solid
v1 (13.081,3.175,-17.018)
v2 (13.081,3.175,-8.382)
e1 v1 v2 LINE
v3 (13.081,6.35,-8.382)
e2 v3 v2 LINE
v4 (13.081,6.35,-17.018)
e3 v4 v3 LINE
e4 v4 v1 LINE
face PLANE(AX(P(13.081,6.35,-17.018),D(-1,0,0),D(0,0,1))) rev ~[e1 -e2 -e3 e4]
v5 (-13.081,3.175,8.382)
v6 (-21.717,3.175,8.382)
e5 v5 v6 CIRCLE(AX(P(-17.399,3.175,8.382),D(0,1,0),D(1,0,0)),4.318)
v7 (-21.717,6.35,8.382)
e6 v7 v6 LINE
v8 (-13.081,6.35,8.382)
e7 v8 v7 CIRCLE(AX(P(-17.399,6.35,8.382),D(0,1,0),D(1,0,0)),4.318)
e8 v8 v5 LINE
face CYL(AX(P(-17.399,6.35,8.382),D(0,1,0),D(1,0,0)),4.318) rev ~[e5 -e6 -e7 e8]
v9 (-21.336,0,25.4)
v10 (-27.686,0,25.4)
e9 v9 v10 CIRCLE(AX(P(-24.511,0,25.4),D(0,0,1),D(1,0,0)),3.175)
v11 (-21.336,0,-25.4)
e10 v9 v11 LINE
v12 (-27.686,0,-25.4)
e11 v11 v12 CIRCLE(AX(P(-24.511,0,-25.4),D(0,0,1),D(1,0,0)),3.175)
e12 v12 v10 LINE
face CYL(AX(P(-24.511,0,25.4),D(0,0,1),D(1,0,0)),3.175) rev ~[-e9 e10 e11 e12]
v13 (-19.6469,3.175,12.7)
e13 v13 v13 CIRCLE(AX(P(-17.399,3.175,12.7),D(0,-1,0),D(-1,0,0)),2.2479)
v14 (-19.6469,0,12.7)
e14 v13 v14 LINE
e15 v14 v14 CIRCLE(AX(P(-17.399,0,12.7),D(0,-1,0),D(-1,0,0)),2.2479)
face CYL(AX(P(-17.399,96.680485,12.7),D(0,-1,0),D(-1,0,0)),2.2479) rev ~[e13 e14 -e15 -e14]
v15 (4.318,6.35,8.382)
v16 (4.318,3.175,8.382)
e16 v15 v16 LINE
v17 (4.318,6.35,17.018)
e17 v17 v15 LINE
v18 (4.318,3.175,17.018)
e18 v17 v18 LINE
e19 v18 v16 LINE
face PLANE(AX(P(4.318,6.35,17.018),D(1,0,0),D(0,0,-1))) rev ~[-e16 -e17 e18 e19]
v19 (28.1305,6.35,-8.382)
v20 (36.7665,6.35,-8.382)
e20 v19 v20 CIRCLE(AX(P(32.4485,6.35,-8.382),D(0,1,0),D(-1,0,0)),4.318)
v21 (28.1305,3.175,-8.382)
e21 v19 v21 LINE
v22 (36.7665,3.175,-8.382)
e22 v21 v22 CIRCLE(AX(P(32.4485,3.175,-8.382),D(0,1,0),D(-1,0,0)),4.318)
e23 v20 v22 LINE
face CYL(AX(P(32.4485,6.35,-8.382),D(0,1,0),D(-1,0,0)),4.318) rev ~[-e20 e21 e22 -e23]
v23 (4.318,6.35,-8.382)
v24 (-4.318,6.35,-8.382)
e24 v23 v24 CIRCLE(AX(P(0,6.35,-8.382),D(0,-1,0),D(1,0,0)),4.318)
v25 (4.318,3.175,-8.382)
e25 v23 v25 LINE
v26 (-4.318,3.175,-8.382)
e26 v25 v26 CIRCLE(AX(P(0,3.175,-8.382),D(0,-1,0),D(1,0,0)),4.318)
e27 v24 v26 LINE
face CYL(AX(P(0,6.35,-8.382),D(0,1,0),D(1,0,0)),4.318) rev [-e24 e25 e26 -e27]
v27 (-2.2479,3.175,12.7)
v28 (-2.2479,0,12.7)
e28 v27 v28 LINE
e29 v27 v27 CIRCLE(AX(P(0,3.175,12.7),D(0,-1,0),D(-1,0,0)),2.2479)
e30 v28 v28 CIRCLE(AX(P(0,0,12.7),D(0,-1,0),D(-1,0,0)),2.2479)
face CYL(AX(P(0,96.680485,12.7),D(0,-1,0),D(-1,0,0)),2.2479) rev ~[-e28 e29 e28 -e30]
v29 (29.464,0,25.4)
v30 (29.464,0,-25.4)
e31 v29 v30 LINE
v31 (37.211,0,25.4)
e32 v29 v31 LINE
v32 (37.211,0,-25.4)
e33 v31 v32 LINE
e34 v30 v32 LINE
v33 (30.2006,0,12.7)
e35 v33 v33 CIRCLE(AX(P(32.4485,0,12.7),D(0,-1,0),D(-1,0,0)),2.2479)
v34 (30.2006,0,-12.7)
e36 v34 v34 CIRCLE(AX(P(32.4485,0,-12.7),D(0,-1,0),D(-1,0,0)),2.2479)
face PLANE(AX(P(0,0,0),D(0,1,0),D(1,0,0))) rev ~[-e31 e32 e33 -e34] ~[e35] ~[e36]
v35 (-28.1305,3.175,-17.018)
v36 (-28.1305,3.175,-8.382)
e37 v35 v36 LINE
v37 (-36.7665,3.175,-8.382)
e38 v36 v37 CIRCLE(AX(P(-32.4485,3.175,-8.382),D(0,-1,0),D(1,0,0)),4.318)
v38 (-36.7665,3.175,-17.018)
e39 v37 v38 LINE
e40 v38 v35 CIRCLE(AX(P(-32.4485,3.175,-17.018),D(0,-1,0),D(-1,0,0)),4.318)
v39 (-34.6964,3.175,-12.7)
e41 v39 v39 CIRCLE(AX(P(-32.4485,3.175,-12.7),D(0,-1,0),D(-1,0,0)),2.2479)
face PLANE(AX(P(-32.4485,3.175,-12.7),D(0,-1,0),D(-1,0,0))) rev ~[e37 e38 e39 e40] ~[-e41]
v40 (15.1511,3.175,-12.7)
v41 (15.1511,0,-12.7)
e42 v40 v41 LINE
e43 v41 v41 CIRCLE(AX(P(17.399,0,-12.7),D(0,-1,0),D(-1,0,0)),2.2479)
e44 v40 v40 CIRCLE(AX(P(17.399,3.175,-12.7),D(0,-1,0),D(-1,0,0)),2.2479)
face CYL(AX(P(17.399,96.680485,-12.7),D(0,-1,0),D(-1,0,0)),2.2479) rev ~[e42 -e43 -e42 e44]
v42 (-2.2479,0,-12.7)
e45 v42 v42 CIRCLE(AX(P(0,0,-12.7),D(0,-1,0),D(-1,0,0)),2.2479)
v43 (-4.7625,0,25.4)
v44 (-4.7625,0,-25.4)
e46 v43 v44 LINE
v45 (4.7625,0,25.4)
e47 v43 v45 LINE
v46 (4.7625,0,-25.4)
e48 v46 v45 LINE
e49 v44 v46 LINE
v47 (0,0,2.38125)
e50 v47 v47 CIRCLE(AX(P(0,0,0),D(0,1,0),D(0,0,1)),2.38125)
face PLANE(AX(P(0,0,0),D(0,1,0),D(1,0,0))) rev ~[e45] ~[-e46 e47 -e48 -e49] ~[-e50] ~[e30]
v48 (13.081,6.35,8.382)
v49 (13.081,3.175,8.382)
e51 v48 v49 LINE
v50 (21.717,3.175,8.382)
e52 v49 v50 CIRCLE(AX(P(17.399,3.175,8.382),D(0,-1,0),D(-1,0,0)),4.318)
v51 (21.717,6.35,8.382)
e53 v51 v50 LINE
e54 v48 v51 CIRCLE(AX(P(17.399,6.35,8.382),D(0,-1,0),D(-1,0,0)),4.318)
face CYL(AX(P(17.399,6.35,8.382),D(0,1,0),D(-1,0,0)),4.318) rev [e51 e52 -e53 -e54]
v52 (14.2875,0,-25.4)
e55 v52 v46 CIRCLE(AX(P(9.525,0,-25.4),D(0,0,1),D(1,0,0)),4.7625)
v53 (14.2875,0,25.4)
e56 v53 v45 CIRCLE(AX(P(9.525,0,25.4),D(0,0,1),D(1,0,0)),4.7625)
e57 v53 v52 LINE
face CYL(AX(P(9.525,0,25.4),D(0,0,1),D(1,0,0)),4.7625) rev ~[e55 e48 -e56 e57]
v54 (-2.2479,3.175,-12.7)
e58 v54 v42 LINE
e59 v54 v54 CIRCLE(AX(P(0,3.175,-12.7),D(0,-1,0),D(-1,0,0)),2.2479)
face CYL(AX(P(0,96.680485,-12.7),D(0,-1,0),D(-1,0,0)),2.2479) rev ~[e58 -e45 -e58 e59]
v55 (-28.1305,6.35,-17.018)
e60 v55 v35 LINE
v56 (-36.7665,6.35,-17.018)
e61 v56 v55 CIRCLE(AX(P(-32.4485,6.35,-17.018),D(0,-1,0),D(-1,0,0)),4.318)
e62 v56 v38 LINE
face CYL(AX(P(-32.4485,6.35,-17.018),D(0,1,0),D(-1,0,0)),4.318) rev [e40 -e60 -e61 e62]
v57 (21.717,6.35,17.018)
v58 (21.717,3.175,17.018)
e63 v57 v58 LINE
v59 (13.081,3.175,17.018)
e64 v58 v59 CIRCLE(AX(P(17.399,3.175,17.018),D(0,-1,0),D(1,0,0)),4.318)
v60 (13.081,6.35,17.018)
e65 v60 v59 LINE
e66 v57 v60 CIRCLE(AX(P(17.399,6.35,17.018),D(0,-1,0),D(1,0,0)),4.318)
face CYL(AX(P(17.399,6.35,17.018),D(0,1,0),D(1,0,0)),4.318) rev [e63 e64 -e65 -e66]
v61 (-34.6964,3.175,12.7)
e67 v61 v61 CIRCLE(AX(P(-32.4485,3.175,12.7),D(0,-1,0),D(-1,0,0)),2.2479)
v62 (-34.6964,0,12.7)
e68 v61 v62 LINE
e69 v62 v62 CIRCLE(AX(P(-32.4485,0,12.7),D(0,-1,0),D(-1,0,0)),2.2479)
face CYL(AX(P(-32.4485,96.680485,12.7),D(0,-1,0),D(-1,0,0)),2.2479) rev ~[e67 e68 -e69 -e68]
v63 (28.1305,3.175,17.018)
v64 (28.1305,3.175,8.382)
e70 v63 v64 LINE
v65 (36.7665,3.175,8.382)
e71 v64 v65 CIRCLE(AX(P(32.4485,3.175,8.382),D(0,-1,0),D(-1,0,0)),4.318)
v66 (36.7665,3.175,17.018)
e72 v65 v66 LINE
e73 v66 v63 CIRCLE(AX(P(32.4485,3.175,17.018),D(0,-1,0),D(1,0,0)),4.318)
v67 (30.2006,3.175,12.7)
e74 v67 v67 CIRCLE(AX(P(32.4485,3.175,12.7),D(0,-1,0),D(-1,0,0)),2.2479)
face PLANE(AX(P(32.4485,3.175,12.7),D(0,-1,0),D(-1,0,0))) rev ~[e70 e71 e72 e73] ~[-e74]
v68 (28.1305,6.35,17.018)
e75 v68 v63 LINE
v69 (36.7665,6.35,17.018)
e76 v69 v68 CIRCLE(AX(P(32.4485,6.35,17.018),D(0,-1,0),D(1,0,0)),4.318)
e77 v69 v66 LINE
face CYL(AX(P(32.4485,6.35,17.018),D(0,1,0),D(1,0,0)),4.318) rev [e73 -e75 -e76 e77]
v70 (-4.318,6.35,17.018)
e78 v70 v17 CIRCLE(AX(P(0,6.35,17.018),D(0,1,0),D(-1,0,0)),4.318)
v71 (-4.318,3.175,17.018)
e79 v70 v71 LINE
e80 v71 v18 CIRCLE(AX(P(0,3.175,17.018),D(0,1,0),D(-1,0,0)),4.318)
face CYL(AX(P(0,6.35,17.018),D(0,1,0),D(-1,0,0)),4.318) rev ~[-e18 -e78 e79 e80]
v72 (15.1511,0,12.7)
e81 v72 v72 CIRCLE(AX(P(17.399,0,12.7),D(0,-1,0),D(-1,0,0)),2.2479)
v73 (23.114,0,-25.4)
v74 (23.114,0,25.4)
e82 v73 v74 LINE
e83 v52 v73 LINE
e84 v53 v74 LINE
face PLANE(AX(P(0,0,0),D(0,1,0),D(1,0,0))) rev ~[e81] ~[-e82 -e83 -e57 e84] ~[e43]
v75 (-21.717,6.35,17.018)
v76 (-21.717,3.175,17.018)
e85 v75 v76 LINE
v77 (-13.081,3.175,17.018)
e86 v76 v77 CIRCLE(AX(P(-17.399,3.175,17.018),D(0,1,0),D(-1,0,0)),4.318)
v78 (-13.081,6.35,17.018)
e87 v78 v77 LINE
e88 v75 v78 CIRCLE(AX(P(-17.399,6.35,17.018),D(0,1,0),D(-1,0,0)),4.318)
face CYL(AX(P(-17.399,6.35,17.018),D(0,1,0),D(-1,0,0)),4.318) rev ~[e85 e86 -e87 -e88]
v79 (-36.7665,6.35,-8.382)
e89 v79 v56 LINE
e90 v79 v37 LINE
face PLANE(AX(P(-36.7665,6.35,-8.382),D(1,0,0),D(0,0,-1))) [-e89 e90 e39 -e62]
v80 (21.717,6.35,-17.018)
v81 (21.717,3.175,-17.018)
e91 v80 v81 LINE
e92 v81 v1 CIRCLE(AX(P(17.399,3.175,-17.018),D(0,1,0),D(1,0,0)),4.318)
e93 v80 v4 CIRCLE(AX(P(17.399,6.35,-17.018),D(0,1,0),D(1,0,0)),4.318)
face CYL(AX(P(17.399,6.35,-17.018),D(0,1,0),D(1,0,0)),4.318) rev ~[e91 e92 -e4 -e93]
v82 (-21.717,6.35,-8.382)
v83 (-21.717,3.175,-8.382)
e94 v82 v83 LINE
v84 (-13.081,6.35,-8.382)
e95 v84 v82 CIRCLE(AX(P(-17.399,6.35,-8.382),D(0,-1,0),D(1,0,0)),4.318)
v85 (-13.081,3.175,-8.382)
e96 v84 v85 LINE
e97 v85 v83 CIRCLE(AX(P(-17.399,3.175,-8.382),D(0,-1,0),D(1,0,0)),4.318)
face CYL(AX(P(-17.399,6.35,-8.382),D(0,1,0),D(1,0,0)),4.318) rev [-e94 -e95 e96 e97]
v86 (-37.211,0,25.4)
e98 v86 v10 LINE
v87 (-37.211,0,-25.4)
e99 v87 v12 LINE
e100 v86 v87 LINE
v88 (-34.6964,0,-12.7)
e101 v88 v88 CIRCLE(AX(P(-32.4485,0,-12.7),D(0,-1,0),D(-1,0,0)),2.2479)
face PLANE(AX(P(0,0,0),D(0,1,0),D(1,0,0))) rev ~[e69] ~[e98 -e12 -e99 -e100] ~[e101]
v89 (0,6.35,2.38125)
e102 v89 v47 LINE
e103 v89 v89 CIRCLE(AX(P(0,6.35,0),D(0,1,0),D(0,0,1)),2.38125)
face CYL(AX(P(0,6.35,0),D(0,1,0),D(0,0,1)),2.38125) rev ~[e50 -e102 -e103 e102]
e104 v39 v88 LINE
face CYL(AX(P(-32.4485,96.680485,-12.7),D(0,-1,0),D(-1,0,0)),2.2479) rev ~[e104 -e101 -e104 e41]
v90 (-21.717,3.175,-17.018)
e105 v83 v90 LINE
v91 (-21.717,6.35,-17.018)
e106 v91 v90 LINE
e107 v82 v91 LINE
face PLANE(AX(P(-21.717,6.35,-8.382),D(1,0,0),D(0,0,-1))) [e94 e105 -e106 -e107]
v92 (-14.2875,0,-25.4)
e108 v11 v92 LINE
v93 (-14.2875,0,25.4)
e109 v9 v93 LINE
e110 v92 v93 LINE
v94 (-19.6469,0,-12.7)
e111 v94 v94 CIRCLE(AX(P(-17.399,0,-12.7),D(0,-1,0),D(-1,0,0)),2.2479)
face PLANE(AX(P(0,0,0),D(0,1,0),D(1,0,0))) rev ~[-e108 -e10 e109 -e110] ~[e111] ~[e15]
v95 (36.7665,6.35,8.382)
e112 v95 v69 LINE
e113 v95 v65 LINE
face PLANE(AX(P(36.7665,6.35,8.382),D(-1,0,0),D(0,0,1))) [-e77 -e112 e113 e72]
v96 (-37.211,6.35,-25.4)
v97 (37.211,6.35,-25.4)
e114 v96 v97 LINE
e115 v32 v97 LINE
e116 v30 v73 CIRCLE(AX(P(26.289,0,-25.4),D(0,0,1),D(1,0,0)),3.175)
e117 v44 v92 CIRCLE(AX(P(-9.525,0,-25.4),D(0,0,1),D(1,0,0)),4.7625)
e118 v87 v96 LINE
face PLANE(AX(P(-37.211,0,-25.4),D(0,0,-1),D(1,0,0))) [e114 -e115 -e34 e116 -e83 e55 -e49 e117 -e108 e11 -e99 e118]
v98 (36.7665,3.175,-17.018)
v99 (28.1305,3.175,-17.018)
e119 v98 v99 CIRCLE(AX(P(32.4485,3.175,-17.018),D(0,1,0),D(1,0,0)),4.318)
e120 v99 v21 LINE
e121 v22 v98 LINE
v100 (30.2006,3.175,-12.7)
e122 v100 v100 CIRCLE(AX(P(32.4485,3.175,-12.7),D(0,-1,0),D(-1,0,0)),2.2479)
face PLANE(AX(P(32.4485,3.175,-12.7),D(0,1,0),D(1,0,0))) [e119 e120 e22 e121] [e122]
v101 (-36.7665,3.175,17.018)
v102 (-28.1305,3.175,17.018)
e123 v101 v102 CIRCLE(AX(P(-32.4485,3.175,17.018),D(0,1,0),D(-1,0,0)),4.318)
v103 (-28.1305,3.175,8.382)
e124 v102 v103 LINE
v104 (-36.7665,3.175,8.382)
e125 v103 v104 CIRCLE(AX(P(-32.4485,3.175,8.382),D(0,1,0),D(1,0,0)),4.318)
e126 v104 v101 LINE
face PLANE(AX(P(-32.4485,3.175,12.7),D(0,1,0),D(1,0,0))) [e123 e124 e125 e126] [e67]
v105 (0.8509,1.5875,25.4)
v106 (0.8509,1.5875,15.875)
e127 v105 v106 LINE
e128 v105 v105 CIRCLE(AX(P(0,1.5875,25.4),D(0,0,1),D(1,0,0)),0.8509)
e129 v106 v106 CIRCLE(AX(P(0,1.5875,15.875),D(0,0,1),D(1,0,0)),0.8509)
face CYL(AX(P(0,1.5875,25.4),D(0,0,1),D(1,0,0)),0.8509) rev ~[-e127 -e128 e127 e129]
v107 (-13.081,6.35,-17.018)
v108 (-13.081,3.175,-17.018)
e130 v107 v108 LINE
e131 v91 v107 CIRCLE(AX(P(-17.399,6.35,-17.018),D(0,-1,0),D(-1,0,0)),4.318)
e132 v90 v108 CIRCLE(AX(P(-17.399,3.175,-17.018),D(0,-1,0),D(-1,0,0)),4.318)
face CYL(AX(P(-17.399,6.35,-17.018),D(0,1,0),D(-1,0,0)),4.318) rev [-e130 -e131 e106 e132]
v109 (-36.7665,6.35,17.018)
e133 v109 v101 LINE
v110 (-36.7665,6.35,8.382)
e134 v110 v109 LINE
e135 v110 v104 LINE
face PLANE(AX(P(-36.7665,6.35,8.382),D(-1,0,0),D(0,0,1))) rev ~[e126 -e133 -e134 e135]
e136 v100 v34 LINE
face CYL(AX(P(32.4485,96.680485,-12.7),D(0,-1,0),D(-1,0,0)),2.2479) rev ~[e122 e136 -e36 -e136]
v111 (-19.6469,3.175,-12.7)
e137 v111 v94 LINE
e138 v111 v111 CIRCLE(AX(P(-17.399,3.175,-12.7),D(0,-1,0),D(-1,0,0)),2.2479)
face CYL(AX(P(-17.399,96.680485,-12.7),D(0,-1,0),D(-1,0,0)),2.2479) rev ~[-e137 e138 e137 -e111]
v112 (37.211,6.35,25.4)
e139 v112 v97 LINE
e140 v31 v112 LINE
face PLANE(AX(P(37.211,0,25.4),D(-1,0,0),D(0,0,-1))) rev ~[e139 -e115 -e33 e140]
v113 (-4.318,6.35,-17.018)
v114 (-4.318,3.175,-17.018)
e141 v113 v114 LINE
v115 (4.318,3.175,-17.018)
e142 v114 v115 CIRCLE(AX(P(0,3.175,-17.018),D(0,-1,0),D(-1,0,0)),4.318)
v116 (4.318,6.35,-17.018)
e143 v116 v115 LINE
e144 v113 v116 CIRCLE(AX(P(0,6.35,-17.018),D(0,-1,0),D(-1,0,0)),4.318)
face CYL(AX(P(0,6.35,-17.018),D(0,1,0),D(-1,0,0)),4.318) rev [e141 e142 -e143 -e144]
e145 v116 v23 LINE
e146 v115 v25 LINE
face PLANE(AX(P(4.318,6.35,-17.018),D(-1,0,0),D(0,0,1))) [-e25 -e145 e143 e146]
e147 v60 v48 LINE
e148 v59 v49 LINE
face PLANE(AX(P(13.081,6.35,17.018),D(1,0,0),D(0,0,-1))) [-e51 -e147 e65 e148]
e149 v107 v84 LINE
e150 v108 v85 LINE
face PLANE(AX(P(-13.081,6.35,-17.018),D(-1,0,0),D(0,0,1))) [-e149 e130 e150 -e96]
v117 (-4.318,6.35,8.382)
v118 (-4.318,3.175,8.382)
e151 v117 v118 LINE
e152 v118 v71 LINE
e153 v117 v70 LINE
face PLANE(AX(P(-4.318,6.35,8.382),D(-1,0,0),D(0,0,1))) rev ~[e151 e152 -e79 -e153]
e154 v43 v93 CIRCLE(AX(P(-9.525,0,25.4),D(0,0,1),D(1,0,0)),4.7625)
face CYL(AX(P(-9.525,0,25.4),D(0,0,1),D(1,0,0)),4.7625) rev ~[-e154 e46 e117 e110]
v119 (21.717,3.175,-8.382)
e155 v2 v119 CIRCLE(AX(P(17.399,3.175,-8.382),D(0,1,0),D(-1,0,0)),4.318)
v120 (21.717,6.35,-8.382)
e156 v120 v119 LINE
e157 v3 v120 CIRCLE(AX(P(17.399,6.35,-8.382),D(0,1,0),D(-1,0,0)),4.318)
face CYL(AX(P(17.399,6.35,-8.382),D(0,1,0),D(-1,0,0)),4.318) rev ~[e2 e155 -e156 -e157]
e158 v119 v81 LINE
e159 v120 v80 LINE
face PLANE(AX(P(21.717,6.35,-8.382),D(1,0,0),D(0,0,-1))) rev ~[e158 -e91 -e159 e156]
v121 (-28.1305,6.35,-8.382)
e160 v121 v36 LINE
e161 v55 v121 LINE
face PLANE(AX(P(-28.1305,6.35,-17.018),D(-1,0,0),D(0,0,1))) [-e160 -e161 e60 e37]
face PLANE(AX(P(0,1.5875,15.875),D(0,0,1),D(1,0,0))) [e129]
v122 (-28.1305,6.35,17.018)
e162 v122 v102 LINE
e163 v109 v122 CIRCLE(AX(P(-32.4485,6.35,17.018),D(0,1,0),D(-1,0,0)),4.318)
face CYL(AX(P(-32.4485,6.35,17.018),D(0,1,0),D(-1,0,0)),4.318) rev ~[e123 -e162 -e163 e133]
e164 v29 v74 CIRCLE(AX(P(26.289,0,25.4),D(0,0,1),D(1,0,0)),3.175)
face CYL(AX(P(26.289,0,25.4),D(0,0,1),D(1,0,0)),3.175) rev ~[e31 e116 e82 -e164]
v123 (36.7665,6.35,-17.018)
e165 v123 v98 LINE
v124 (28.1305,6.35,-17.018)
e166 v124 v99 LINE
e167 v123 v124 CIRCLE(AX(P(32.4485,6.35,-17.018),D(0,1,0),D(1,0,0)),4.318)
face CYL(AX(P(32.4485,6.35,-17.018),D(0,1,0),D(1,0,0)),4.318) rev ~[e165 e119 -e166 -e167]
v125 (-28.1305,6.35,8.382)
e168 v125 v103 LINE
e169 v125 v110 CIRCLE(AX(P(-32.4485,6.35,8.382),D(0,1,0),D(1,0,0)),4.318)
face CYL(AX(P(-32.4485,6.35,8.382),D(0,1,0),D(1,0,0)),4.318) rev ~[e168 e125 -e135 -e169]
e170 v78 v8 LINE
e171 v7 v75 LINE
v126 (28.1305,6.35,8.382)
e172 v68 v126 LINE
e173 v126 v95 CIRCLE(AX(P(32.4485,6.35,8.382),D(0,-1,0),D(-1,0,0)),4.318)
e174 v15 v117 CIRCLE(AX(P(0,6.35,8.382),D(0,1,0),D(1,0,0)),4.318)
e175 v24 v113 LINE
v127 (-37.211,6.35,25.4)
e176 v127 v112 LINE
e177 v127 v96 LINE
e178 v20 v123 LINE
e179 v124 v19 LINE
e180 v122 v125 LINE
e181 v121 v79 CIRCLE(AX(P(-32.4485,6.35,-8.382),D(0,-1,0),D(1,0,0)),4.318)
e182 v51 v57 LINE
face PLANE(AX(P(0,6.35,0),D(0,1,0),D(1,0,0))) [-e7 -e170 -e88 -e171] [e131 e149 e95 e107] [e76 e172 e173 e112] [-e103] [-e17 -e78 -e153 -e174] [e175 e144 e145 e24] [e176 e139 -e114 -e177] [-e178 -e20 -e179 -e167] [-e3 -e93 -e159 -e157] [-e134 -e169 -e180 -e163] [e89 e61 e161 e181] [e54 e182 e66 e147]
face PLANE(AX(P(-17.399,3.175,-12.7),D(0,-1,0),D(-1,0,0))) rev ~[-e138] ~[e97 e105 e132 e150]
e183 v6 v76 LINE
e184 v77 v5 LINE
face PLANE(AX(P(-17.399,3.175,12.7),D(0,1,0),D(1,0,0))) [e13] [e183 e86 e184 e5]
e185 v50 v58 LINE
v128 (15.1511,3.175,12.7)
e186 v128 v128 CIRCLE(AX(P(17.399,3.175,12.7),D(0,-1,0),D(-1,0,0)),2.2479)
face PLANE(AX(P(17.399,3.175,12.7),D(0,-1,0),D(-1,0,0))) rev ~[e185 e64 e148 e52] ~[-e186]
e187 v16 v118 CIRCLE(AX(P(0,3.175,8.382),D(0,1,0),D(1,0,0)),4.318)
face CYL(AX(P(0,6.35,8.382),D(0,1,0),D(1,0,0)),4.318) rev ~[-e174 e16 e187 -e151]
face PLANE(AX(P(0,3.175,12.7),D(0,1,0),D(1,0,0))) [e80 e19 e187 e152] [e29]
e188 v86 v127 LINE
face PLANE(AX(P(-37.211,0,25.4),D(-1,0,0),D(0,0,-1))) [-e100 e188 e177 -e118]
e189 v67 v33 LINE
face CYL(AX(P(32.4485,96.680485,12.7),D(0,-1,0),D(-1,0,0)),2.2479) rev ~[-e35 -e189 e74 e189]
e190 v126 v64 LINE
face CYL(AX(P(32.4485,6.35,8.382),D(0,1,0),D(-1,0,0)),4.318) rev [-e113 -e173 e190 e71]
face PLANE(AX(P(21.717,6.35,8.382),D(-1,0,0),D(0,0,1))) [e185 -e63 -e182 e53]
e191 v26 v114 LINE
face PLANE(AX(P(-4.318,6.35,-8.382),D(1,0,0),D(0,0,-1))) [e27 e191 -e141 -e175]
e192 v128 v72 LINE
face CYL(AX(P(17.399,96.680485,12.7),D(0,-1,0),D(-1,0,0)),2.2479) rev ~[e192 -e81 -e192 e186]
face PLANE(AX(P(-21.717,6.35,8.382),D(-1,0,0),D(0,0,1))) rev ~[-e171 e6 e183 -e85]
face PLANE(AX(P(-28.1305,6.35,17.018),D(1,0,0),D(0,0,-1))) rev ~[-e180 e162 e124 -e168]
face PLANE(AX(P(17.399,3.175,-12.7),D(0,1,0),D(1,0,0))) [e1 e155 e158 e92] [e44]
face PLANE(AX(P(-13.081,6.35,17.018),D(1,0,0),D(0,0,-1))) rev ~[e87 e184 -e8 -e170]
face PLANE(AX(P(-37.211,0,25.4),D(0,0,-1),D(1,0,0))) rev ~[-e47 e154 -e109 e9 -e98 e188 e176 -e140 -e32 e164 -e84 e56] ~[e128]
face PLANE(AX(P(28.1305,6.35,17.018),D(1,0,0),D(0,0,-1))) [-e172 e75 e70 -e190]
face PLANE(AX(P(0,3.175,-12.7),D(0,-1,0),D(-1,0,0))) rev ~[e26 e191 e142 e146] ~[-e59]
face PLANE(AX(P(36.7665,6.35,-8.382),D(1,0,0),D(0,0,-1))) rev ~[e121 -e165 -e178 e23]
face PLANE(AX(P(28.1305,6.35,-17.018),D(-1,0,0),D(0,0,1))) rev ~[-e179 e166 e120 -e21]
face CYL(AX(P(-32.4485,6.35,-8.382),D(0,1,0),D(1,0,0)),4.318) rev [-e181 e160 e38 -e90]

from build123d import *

# Parameters (mm, degrees)
SKETCH1_W             = 74.422
SKETCH1_H             = 50.8
BOSS_EXTRUDE1_DEPTH   = 6.35
SKETCH2_R             = 3.175
CUT_EXTRUDE1_DEPTH    = 64.289975675
SKETCH3_R             = 4.7625
CUT_EXTRUDE2_DEPTH    = 64.289975675
F_8_CLEARANCE_HOLE1_D = 4.4958
CUT_EXTRUDE3_DEPTH    = 3.175
SKETCH7_R             = 2.38125
CUT_EXTRUDE4_DEPTH    = 46.498802413
SKETCH8_R             = 0.8509
CUT_EXTRUDE5_DEPTH    = 9.525


with BuildPart() as part:
    # Sketch1 → Boss-Extrude1 (new body)
    with BuildSketch(Plane(origin=(0, 0, 0), x_dir=(1, 0, 0), z_dir=(0, 1, 0))):
        Rectangle(SKETCH1_W, SKETCH1_H)
    extrude(amount=BOSS_EXTRUDE1_DEPTH)

    # Sketch2 → Cut-Extrude1 (cut, through all)
    with BuildSketch(Plane.XY.offset(25.4)):
        with Locations((-24.511, 0)):
            Circle(SKETCH2_R)
        with Locations((26.289, 0)):
            Circle(SKETCH2_R)
    extrude(amount=-CUT_EXTRUDE1_DEPTH, mode=Mode.SUBTRACT)

    # Sketch3 → Cut-Extrude2 (cut, through all)
    with BuildSketch(Plane.XY.offset(25.4)):
        with Locations((-9.525, 0)):
            Circle(SKETCH3_R)
        with Locations((9.525, 0)):
            Circle(SKETCH3_R)
    extrude(amount=-CUT_EXTRUDE2_DEPTH, mode=Mode.SUBTRACT)

    # #8 Clearance Hole1 (through all)
    with Locations(Plane(origin=(0, 6.35, 0), x_dir=(1, 0, 0), z_dir=(0, 1, 0))):
        with Locations((-32.4485, 12.7), (-32.4485, -12.7), (-17.399, -12.7), (0, -12.7), (17.399, -12.7), (32.4485, -12.7), (32.4485, 12.7), (17.399, 12.7), (0, 12.7), (-17.399, 12.7)):
            Hole(F_8_CLEARANCE_HOLE1_D / 2)

    # Sketch6 → Cut-Extrude3 (cut)
    with BuildSketch(Plane(origin=(0, 6.35, 0), x_dir=(1, 0, 0), z_dir=(0, 1, 0))):
        with BuildLine():
            Line((-13.081, 17.018), (-13.081, 8.382))
            ThreePointArc((-13.081, 8.382), (-17.399, 4.064), (-21.717, 8.382))
            Line((-21.717, 8.382), (-21.717, 17.018))
            ThreePointArc((-21.717, 17.018), (-17.399, 21.336), (-13.081, 17.018))
        make_face()
        with BuildLine():
            Line((13.081, 17.018), (13.081, 8.382))
            ThreePointArc((13.081, 8.382), (17.399, 4.064), (21.717, 8.382))
            Line((21.717, 8.382), (21.717, 17.018))
            ThreePointArc((21.717, 17.018), (17.399, 21.336), (13.081, 17.018))
        make_face()
        with BuildLine():
            Line((13.081, -17.018), (13.081, -8.382))
            ThreePointArc((13.081, -8.382), (17.399, -4.064), (21.717, -8.382))
            Line((21.717, -8.382), (21.717, -17.018))
            ThreePointArc((21.717, -17.018), (17.399, -21.336), (13.081, -17.018))
        make_face()
        with BuildLine():
            Line((-13.081, -17.018), (-13.081, -8.382))
            ThreePointArc((-13.081, -8.382), (-17.399, -4.064), (-21.717, -8.382))
            Line((-21.717, -8.382), (-21.717, -17.018))
            ThreePointArc((-21.717, -17.018), (-17.399, -21.336), (-13.081, -17.018))
        make_face()
        with BuildLine():
            Line((4.318, 17.018), (4.318, 8.382))
            ThreePointArc((4.318, 8.382), (0, 4.064), (-4.318, 8.382))
            Line((-4.318, 8.382), (-4.318, 17.018))
            ThreePointArc((-4.318, 17.018), (0, 21.336), (4.318, 17.018))
        make_face()
        with BuildLine():
            Line((4.318, -17.018), (4.318, -8.382))
            ThreePointArc((4.318, -8.382), (0, -4.064), (-4.318, -8.382))
            Line((-4.318, -8.382), (-4.318, -17.018))
            ThreePointArc((-4.318, -17.018), (0, -21.336), (4.318, -17.018))
        make_face()
        with BuildLine():
            Line((-28.1305, 17.018), (-28.1305, 8.382))
            ThreePointArc((-28.1305, 8.382), (-32.4485, 4.064), (-36.7665, 8.382))
            Line((-36.7665, 8.382), (-36.7665, 17.018))
            ThreePointArc((-36.7665, 17.018), (-32.4485, 21.336), (-28.1305, 17.018))
        make_face()
        with BuildLine():
            Line((-28.1305, -17.018), (-28.1305, -8.382))
            ThreePointArc((-28.1305, -8.382), (-32.4485, -4.064), (-36.7665, -8.382))
            Line((-36.7665, -8.382), (-36.7665, -17.018))
            ThreePointArc((-36.7665, -17.018), (-32.4485, -21.336), (-28.1305, -17.018))
        make_face()
        with BuildLine():
            Line((28.1305, 17.018), (28.1305, 8.382))
            ThreePointArc((28.1305, 8.382), (32.4485, 4.064), (36.7665, 8.382))
            Line((36.7665, 8.382), (36.7665, 17.018))
            ThreePointArc((36.7665, 17.018), (32.4485, 21.336), (28.1305, 17.018))
        make_face()
        with BuildLine():
            Line((28.1305, -17.018), (28.1305, -8.382))
            ThreePointArc((28.1305, -8.382), (32.4485, -4.064), (36.7665, -8.382))
            Line((36.7665, -8.382), (36.7665, -17.018))
            ThreePointArc((36.7665, -17.018), (32.4485, -21.336), (28.1305, -17.018))
        make_face()
    extrude(amount=-CUT_EXTRUDE3_DEPTH, mode=Mode.SUBTRACT)

    # Sketch7 → Cut-Extrude4 (cut, through all)
    with BuildSketch(Plane(origin=(0, 6.35, 0), x_dir=(1, 0, 0), z_dir=(0, 1, 0))):
        with Locations(Location((0, 0, 0), (0, 0, 270))):
            Circle(SKETCH7_R)
    extrude(amount=-CUT_EXTRUDE4_DEPTH, mode=Mode.SUBTRACT)

    # Sketch8 → Cut-Extrude5 (cut)
    with BuildSketch(Plane.XY.offset(25.4)):
        with Locations((0, 1.5875)):
            Circle(SKETCH8_R)
    extrude(amount=-CUT_EXTRUDE5_DEPTH, mode=Mode.SUBTRACT)


solid = part.part
